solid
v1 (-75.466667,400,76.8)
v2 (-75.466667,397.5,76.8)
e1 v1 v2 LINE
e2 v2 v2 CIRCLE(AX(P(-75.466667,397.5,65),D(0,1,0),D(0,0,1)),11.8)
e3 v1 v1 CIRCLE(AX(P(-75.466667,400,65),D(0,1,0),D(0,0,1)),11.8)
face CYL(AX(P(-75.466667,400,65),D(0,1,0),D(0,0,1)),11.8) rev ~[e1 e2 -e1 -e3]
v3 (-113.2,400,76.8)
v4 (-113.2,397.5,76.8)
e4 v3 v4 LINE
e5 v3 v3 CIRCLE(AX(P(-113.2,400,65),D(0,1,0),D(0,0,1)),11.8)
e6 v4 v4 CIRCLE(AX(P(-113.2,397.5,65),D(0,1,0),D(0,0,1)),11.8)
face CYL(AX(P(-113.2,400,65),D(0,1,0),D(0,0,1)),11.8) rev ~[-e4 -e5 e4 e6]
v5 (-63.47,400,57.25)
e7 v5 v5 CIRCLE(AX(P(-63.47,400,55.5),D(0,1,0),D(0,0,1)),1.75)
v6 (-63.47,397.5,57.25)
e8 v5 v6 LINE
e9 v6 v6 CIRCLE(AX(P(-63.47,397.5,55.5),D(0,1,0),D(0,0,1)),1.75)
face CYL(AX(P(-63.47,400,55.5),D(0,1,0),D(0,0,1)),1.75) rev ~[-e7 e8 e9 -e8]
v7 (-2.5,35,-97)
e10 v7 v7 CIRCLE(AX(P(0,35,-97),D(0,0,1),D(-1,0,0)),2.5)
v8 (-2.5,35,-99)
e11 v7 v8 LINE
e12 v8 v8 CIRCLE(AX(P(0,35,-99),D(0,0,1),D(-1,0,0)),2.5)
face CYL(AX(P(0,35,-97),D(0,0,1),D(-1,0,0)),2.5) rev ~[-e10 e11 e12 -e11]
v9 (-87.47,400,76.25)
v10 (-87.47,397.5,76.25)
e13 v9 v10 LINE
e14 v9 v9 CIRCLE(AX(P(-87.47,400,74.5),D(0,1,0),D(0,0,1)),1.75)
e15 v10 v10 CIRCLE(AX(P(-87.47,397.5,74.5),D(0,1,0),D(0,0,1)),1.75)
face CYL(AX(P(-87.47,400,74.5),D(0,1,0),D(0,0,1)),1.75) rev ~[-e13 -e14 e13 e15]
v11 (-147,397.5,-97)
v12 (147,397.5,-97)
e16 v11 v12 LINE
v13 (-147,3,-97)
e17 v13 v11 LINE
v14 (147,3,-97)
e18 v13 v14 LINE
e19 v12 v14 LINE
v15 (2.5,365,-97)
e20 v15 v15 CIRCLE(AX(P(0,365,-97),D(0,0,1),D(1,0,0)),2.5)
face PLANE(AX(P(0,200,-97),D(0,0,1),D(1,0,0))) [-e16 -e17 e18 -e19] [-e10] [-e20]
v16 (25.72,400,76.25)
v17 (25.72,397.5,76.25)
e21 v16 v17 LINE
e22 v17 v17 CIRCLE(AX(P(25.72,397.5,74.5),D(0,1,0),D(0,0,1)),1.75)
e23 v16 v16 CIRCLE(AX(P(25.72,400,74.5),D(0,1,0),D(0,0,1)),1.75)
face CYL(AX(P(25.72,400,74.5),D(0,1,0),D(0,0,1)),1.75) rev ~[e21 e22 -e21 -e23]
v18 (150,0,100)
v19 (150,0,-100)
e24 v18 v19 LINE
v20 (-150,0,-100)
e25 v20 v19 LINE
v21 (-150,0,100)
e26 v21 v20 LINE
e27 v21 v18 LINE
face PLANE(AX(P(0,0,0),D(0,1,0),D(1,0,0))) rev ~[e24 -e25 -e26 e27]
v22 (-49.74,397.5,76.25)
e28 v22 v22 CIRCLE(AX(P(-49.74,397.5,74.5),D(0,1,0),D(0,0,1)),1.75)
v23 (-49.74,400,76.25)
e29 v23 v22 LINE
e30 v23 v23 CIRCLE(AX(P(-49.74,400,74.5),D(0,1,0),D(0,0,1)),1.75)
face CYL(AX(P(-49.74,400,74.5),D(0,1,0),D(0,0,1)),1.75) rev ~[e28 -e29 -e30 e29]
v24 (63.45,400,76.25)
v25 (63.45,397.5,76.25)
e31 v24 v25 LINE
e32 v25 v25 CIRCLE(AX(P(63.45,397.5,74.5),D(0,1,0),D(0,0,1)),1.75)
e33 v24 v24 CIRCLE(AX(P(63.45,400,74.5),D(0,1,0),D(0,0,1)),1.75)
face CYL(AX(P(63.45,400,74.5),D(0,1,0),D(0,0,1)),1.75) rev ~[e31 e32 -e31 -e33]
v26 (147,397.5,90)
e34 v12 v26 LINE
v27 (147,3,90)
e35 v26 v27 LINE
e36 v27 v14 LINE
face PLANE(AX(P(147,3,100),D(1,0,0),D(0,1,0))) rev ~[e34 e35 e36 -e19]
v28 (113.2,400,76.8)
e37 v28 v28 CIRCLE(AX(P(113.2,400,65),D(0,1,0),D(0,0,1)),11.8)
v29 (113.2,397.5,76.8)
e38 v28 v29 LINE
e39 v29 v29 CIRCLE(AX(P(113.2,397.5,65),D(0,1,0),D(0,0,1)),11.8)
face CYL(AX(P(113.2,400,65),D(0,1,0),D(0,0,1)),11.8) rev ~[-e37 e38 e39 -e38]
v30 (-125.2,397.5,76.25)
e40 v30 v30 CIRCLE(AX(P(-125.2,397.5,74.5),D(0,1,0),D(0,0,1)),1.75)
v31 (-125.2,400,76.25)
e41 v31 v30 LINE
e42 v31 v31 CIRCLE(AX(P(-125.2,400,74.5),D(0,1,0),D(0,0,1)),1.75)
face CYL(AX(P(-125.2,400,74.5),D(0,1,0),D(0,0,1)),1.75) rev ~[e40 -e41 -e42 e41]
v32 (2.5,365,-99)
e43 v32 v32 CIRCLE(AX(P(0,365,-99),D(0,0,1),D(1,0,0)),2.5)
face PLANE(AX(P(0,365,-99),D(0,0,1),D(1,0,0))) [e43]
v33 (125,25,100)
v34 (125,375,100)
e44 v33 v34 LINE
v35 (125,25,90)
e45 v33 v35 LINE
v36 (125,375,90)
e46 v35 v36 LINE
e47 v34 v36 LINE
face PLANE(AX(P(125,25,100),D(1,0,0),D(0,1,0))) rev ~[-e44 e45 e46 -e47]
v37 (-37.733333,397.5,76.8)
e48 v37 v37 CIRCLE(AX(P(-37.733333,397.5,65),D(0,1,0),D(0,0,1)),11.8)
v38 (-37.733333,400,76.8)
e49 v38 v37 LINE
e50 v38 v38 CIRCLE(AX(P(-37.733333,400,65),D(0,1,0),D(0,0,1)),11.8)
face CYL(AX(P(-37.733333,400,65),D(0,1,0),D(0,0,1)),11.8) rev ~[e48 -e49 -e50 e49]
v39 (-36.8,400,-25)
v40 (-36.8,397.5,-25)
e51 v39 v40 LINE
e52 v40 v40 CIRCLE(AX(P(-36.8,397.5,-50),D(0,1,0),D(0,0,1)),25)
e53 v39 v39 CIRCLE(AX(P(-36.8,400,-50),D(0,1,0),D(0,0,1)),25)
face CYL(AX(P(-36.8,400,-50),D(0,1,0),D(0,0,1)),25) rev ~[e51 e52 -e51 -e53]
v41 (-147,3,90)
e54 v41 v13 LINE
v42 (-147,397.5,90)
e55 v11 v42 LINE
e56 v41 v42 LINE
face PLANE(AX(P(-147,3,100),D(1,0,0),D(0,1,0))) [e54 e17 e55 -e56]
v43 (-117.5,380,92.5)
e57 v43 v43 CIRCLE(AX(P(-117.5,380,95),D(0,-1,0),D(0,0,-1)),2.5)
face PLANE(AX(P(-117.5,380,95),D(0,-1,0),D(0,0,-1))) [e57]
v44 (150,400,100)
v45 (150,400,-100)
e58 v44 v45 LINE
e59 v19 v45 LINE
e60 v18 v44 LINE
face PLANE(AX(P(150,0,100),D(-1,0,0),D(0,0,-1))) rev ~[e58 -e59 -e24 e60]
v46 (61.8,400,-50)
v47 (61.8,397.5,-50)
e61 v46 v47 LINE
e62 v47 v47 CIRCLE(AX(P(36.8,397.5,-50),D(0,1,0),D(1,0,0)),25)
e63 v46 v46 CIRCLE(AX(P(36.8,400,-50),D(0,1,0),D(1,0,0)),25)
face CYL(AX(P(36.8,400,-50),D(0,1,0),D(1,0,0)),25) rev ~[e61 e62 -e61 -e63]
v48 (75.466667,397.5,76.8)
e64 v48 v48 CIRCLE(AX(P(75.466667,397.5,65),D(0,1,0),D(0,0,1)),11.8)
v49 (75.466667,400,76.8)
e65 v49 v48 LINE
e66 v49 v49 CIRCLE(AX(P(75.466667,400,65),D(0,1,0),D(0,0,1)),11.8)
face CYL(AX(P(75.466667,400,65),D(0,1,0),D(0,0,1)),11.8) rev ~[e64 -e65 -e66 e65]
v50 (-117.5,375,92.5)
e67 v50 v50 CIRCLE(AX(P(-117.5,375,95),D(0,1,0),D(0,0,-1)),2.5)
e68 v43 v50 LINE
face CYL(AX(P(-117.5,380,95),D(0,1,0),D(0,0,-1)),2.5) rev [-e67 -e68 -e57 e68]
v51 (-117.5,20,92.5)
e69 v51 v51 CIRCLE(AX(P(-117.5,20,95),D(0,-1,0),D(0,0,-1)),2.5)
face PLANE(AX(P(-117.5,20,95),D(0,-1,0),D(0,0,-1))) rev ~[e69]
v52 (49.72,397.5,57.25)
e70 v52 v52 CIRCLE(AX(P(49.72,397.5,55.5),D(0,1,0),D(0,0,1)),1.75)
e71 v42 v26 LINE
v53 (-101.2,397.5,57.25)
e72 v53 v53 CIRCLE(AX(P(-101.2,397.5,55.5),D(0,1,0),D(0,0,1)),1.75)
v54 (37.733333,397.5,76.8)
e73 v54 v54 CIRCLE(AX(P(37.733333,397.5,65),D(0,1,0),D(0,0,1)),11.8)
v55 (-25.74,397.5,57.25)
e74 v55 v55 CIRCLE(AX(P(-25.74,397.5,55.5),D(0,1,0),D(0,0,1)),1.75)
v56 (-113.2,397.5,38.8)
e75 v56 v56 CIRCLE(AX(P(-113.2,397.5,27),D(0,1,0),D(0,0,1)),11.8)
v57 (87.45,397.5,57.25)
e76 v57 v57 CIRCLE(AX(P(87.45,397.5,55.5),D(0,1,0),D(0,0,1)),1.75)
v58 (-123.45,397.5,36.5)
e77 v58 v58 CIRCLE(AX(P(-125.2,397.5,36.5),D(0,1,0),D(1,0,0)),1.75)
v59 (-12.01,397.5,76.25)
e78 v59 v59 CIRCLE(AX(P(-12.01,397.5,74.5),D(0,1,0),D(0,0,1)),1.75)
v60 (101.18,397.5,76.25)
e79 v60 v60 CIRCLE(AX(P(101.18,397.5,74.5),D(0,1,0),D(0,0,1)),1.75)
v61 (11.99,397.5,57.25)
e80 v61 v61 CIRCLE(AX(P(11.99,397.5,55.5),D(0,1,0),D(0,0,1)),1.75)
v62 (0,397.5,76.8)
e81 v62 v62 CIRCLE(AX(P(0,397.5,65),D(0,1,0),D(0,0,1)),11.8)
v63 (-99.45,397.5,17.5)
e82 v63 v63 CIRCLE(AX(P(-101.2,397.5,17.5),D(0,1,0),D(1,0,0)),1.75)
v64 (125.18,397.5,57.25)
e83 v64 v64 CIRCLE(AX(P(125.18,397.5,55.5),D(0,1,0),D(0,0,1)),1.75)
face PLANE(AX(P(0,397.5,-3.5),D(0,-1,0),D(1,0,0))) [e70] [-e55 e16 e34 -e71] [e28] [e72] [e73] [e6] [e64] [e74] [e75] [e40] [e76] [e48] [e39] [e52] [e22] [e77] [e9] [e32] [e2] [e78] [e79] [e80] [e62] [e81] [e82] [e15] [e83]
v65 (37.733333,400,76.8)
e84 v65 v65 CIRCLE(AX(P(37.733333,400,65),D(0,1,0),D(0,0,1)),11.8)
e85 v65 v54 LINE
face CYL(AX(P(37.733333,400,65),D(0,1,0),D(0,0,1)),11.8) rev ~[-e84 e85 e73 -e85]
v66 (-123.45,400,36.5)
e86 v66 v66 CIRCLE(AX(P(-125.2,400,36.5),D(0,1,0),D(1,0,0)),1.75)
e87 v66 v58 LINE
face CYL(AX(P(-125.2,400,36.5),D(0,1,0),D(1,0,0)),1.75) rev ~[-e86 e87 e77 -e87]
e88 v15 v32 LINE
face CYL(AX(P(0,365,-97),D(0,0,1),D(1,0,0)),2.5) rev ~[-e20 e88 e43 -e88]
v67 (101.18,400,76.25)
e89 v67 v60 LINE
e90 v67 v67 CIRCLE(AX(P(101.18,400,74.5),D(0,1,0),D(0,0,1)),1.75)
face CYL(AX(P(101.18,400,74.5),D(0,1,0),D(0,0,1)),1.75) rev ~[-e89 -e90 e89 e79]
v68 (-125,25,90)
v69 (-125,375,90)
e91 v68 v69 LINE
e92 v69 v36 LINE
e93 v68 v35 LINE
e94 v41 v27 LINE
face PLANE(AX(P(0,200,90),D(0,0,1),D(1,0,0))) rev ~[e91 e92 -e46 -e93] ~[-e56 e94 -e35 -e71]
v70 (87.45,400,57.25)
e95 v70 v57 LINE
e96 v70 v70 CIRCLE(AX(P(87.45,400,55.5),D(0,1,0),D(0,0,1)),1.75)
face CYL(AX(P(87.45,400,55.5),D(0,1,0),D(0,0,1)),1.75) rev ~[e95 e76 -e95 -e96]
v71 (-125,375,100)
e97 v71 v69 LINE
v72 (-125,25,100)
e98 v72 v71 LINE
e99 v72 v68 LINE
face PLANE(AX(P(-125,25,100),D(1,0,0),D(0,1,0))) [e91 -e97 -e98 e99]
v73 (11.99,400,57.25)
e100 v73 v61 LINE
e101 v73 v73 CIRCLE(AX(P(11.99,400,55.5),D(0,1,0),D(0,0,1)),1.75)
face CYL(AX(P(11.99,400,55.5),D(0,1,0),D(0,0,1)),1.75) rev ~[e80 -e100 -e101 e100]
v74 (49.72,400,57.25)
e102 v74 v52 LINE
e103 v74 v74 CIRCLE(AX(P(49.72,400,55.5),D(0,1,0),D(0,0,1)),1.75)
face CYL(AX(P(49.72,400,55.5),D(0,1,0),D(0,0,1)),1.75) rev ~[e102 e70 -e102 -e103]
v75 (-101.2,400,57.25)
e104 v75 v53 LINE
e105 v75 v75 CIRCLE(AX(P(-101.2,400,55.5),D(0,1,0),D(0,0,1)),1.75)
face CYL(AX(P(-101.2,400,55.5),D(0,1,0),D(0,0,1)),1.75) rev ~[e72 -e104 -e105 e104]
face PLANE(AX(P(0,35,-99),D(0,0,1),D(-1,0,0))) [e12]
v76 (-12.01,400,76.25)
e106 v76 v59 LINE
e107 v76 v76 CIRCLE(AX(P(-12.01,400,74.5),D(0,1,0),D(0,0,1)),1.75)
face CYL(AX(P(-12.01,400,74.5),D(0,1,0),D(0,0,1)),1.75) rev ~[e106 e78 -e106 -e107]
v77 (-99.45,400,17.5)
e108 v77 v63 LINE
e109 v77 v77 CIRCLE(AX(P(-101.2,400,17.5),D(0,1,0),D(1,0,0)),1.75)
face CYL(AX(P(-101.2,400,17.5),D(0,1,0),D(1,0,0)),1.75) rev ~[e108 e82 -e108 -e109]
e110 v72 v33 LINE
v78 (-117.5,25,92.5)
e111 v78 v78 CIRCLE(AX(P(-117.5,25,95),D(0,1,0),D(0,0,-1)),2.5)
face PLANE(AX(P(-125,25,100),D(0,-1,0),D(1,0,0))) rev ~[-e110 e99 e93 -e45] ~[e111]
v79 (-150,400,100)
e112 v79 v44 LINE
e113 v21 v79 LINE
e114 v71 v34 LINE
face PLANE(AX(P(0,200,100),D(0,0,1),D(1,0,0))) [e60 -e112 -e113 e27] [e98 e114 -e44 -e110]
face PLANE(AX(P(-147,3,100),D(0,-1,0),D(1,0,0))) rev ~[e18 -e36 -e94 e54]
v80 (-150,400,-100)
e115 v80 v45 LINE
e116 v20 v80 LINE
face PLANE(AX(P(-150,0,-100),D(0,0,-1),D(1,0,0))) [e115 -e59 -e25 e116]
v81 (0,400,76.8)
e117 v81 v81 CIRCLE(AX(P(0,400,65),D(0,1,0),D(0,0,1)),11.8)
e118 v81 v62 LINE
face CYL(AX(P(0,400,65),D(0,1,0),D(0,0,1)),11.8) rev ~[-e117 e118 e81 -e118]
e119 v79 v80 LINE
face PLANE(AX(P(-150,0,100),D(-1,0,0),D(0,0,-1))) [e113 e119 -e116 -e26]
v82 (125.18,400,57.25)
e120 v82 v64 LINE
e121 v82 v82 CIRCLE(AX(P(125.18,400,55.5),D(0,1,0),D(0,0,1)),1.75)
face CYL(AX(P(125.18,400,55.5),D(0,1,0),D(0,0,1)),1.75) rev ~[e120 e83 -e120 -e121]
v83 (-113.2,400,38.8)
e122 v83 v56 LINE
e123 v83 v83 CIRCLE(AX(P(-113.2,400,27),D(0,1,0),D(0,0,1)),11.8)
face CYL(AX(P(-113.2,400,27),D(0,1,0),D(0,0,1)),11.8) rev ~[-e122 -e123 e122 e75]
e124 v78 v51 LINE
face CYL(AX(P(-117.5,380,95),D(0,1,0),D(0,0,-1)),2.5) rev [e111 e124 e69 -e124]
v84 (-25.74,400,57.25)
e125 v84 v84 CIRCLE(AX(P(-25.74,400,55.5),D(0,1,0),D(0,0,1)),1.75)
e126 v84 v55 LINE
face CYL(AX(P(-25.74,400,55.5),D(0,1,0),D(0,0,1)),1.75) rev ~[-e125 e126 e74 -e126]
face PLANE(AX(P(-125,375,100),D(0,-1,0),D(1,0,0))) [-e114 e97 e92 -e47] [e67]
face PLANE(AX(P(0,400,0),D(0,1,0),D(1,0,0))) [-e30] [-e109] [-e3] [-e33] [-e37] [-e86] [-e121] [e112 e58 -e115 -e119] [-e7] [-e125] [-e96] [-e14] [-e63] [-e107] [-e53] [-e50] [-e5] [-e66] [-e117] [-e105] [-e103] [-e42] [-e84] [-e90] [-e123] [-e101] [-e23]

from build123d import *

# Parameters (mm, degrees)
SKETCH1_W                = 300
SKETCH1_H                = 200
BOSS_EXTRUDE1_DEPTH      = 400
SKETCH2_W                = 294
SKETCH2_H                = 394
CUT_EXTRUDE1_DEPTH       = 197
SKETCH3_W                = 294
SKETCH3_H                = 394
SKETCH3_W_2              = 250
SKETCH3_H_2              = 350
BOSS_EXTRUDE2_DEPTH      = 10
SKETCH4_R                = 2.5
CUT_EXTRUDE2_DEPTH       = 2
SKETCH5_W                = 294
SKETCH5_H                = 187
CUT_EXTRUDE3_DEPTH       = 0.5
CUT_EXTRUDE4_REACH       = 440.748
SKETCH6_R                = 11.8
CUT_EXTRUDE5_REACH       = 440.748
SKETCH7_R                = 25
CUT_EXTRUDE7_REACH       = 440.748
SKETCH8_R                = 1.75
CUT_EXTRUDE8_REACH       = 440.748
SKETCH9_R                = 1.75
CUT_EXTRUDE9_REACH       = 440.748
SKETCH11_R               = 1.75
CUT_EXTRUDE10_DEPTH      = 355
CUT_EXTRUDE10_DEPTH_BACK = 5
SKETCH12_R               = 2.5


with BuildPart() as part:
    # Sketch1 → Boss-Extrude1 (new body)
    with BuildSketch(Plane(origin=(0, 0, 0), x_dir=(1, 0, 0), z_dir=(0, 1, 0))):
        Rectangle(SKETCH1_W, SKETCH1_H)
    extrude(amount=BOSS_EXTRUDE1_DEPTH)

    # Sketch2 → Cut-Extrude1 (cut)
    with BuildSketch(Plane.XY.offset(100)):
        with Locations((0, 200)):
            Rectangle(SKETCH2_W, SKETCH2_H)
    extrude(amount=-CUT_EXTRUDE1_DEPTH, mode=Mode.SUBTRACT)

    # Sketch3 → Boss-Extrude2 (add)
    with BuildSketch(Plane.XY.offset(100)):
        with Locations((0, 200)):
            Rectangle(SKETCH3_W, SKETCH3_H)
        with Locations((0, 200)):
            Rectangle(SKETCH3_W_2, SKETCH3_H_2, mode=Mode.SUBTRACT)
    extrude(amount=-BOSS_EXTRUDE2_DEPTH)

    # Sketch4 → Cut-Extrude2 (cut)
    with BuildSketch(Plane.XY.offset(-97)):
        with Locations((0, 365)):
            Circle(SKETCH4_R)
        with Locations(Location((0, 35, 0), (0, 0, 180))):
            Circle(SKETCH4_R)
    extrude(amount=-CUT_EXTRUDE2_DEPTH, mode=Mode.SUBTRACT)

    # Sketch5 → Cut-Extrude3 (cut)
    with BuildSketch(Plane.XZ.offset(-397)):
        with Locations((0, -3.5)):
            Rectangle(SKETCH5_W, SKETCH5_H)
    extrude(amount=-CUT_EXTRUDE3_DEPTH, mode=Mode.SUBTRACT)

    # Sketch6 → Cut-Extrude4 (cut, up to next)
    with BuildSketch(Plane(origin=(0, 400, 0), x_dir=(1, 0, 0), z_dir=(0, 1, 0)), mode=Mode.PRIVATE) as cut_extrude4_sk1:
        with Locations(Location((-113.2, -65, 0), (0, 0, 270))):
            Circle(SKETCH6_R)
    cut_extrude4_tool1 = extrude(cut_extrude4_sk1.sketch, amount=-CUT_EXTRUDE4_REACH, mode=Mode.PRIVATE) & part.part
    # Sketch6 → Cut-Extrude4 (cut, up to next)
    with BuildSketch(Plane(origin=(0, 400, 0), x_dir=(1, 0, 0), z_dir=(0, 1, 0)), mode=Mode.PRIVATE) as cut_extrude4_sk2:
        with Locations(Location((-75.466666667, -65, 0), (0, 0, 270))):
            Circle(SKETCH6_R)
    cut_extrude4_tool2 = extrude(cut_extrude4_sk2.sketch, amount=-CUT_EXTRUDE4_REACH, mode=Mode.PRIVATE) & part.part
    # Sketch6 → Cut-Extrude4 (cut, up to next)
    with BuildSketch(Plane(origin=(0, 400, 0), x_dir=(1, 0, 0), z_dir=(0, 1, 0)), mode=Mode.PRIVATE) as cut_extrude4_sk3:
        with Locations(Location((-37.733333333, -65, 0), (0, 0, 270))):
            Circle(SKETCH6_R)
    cut_extrude4_tool3 = extrude(cut_extrude4_sk3.sketch, amount=-CUT_EXTRUDE4_REACH, mode=Mode.PRIVATE) & part.part
    # Sketch6 → Cut-Extrude4 (cut, up to next)
    with BuildSketch(Plane(origin=(0, 400, 0), x_dir=(1, 0, 0), z_dir=(0, 1, 0)), mode=Mode.PRIVATE) as cut_extrude4_sk4:
        with Locations(Location((0, -65, 0), (0, 0, 270))):
            Circle(SKETCH6_R)
    cut_extrude4_tool4 = extrude(cut_extrude4_sk4.sketch, amount=-CUT_EXTRUDE4_REACH, mode=Mode.PRIVATE) & part.part
    # Sketch6 → Cut-Extrude4 (cut, up to next)
    with BuildSketch(Plane(origin=(0, 400, 0), x_dir=(1, 0, 0), z_dir=(0, 1, 0)), mode=Mode.PRIVATE) as cut_extrude4_sk5:
        with Locations(Location((37.733333333, -65, 0), (0, 0, 270))):
            Circle(SKETCH6_R)
    cut_extrude4_tool5 = extrude(cut_extrude4_sk5.sketch, amount=-CUT_EXTRUDE4_REACH, mode=Mode.PRIVATE) & part.part
    # Sketch6 → Cut-Extrude4 (cut, up to next)
    with BuildSketch(Plane(origin=(0, 400, 0), x_dir=(1, 0, 0), z_dir=(0, 1, 0)), mode=Mode.PRIVATE) as cut_extrude4_sk6:
        with Locations(Location((75.466666667, -65, 0), (0, 0, 270))):
            Circle(SKETCH6_R)
    cut_extrude4_tool6 = extrude(cut_extrude4_sk6.sketch, amount=-CUT_EXTRUDE4_REACH, mode=Mode.PRIVATE) & part.part
    # Sketch6 → Cut-Extrude4 (cut, up to next)
    with BuildSketch(Plane(origin=(0, 400, 0), x_dir=(1, 0, 0), z_dir=(0, 1, 0)), mode=Mode.PRIVATE) as cut_extrude4_sk7:
        with Locations(Location((113.2, -65, 0), (0, 0, 270))):
            Circle(SKETCH6_R)
    cut_extrude4_tool7 = extrude(cut_extrude4_sk7.sketch, amount=-CUT_EXTRUDE4_REACH, mode=Mode.PRIVATE) & part.part
    # Sketch6 → Cut-Extrude4 (cut, up to next)
    with BuildSketch(Plane(origin=(0, 400, 0), x_dir=(1, 0, 0), z_dir=(0, 1, 0)), mode=Mode.PRIVATE) as cut_extrude4_sk8:
        with Locations(Location((-113.2, -27, 0), (0, 0, 270))):
            Circle(SKETCH6_R)
    cut_extrude4_tool8 = extrude(cut_extrude4_sk8.sketch, amount=-CUT_EXTRUDE4_REACH, mode=Mode.PRIVATE) & part.part
    add(cut_extrude4_tool1.solids().sort_by_distance((-113.2, 400, 65))[0], mode=Mode.SUBTRACT)
    add(cut_extrude4_tool2.solids().sort_by_distance((-75.466667, 400, 65))[0], mode=Mode.SUBTRACT)
    add(cut_extrude4_tool3.solids().sort_by_distance((-37.733333, 400, 65))[0], mode=Mode.SUBTRACT)
    add(cut_extrude4_tool4.solids().sort_by_distance((0, 400, 65))[0], mode=Mode.SUBTRACT)
    add(cut_extrude4_tool5.solids().sort_by_distance((37.733333, 400, 65))[0], mode=Mode.SUBTRACT)
    add(cut_extrude4_tool6.solids().sort_by_distance((75.466667, 400, 65))[0], mode=Mode.SUBTRACT)
    add(cut_extrude4_tool7.solids().sort_by_distance((113.2, 400, 65))[0], mode=Mode.SUBTRACT)
    add(cut_extrude4_tool8.solids().sort_by_distance((-113.2, 400, 27))[0], mode=Mode.SUBTRACT)

    # Sketch7 → Cut-Extrude5 (cut, up to next)
    with BuildSketch(Plane(origin=(0, 400, 0), x_dir=(1, 0, 0), z_dir=(0, 1, 0)), mode=Mode.PRIVATE) as cut_extrude5_sk1:
        with Locations(Location((-36.8, 50, 0), (0, 0, 270))):
            Circle(SKETCH7_R)
    cut_extrude5_tool1 = extrude(cut_extrude5_sk1.sketch, amount=-CUT_EXTRUDE5_REACH, mode=Mode.PRIVATE) & part.part
    # Sketch7 → Cut-Extrude5 (cut, up to next)
    with BuildSketch(Plane(origin=(0, 400, 0), x_dir=(1, 0, 0), z_dir=(0, 1, 0)), mode=Mode.PRIVATE) as cut_extrude5_sk2:
        with Locations((36.8, 50)):
            Circle(SKETCH7_R)
    cut_extrude5_tool2 = extrude(cut_extrude5_sk2.sketch, amount=-CUT_EXTRUDE5_REACH, mode=Mode.PRIVATE) & part.part
    add(cut_extrude5_tool1.solids().sort_by_distance((-36.8, 400, -50))[0], mode=Mode.SUBTRACT)
    add(cut_extrude5_tool2.solids().sort_by_distance((36.8, 400, -50))[0], mode=Mode.SUBTRACT)

    # Sketch8 → Cut-Extrude7 (cut, up to next)
    with BuildSketch(Plane(origin=(0, 400, 0), x_dir=(1, 0, 0), z_dir=(0, 1, 0)), mode=Mode.PRIVATE) as cut_extrude7_sk1:
        with Locations(Location((-125.2, -74.5, 0), (0, 0, 270))):
            Circle(SKETCH8_R)
    cut_extrude7_tool1 = extrude(cut_extrude7_sk1.sketch, amount=-CUT_EXTRUDE7_REACH, mode=Mode.PRIVATE) & part.part
    # Sketch8 → Cut-Extrude7 (cut, up to next)
    with BuildSketch(Plane(origin=(0, 400, 0), x_dir=(1, 0, 0), z_dir=(0, 1, 0)), mode=Mode.PRIVATE) as cut_extrude7_sk2:
        with Locations(Location((-87.47, -74.5, 0), (0, 0, 270))):
            Circle(SKETCH8_R)
    cut_extrude7_tool2 = extrude(cut_extrude7_sk2.sketch, amount=-CUT_EXTRUDE7_REACH, mode=Mode.PRIVATE) & part.part
    # Sketch8 → Cut-Extrude7 (cut, up to next)
    with BuildSketch(Plane(origin=(0, 400, 0), x_dir=(1, 0, 0), z_dir=(0, 1, 0)), mode=Mode.PRIVATE) as cut_extrude7_sk3:
        with Locations(Location((-49.74, -74.5, 0), (0, 0, 270))):
            Circle(SKETCH8_R)
    cut_extrude7_tool3 = extrude(cut_extrude7_sk3.sketch, amount=-CUT_EXTRUDE7_REACH, mode=Mode.PRIVATE) & part.part
    # Sketch8 → Cut-Extrude7 (cut, up to next)
    with BuildSketch(Plane(origin=(0, 400, 0), x_dir=(1, 0, 0), z_dir=(0, 1, 0)), mode=Mode.PRIVATE) as cut_extrude7_sk4:
        with Locations(Location((-12.01, -74.5, 0), (0, 0, 270))):
            Circle(SKETCH8_R)
    cut_extrude7_tool4 = extrude(cut_extrude7_sk4.sketch, amount=-CUT_EXTRUDE7_REACH, mode=Mode.PRIVATE) & part.part
    # Sketch8 → Cut-Extrude7 (cut, up to next)
    with BuildSketch(Plane(origin=(0, 400, 0), x_dir=(1, 0, 0), z_dir=(0, 1, 0)), mode=Mode.PRIVATE) as cut_extrude7_sk5:
        with Locations(Location((25.72, -74.5, 0), (0, 0, 270))):
            Circle(SKETCH8_R)
    cut_extrude7_tool5 = extrude(cut_extrude7_sk5.sketch, amount=-CUT_EXTRUDE7_REACH, mode=Mode.PRIVATE) & part.part
    # Sketch8 → Cut-Extrude7 (cut, up to next)
    with BuildSketch(Plane(origin=(0, 400, 0), x_dir=(1, 0, 0), z_dir=(0, 1, 0)), mode=Mode.PRIVATE) as cut_extrude7_sk6:
        with Locations(Location((63.45, -74.5, 0), (0, 0, 270))):
            Circle(SKETCH8_R)
    cut_extrude7_tool6 = extrude(cut_extrude7_sk6.sketch, amount=-CUT_EXTRUDE7_REACH, mode=Mode.PRIVATE) & part.part
    # Sketch8 → Cut-Extrude7 (cut, up to next)
    with BuildSketch(Plane(origin=(0, 400, 0), x_dir=(1, 0, 0), z_dir=(0, 1, 0)), mode=Mode.PRIVATE) as cut_extrude7_sk7:
        with Locations(Location((101.18, -74.5, 0), (0, 0, 270))):
            Circle(SKETCH8_R)
    cut_extrude7_tool7 = extrude(cut_extrude7_sk7.sketch, amount=-CUT_EXTRUDE7_REACH, mode=Mode.PRIVATE) & part.part
    add(cut_extrude7_tool1.solids().sort_by_distance((-125.2, 400, 74.5))[0], mode=Mode.SUBTRACT)
    add(cut_extrude7_tool2.solids().sort_by_distance((-87.47, 400, 74.5))[0], mode=Mode.SUBTRACT)
    add(cut_extrude7_tool3.solids().sort_by_distance((-49.74, 400, 74.5))[0], mode=Mode.SUBTRACT)
    add(cut_extrude7_tool4.solids().sort_by_distance((-12.01, 400, 74.5))[0], mode=Mode.SUBTRACT)
    add(cut_extrude7_tool5.solids().sort_by_distance((25.72, 400, 74.5))[0], mode=Mode.SUBTRACT)
    add(cut_extrude7_tool6.solids().sort_by_distance((63.45, 400, 74.5))[0], mode=Mode.SUBTRACT)
    add(cut_extrude7_tool7.solids().sort_by_distance((101.18, 400, 74.5))[0], mode=Mode.SUBTRACT)

    # Sketch9 → Cut-Extrude8 (cut, up to next)
    with BuildSketch(Plane(origin=(0, 400, 0), x_dir=(1, 0, 0), z_dir=(0, 1, 0)), mode=Mode.PRIVATE) as cut_extrude8_sk1:
        with Locations(Location((-101.2, -55.5, 0), (0, 0, 270))):
            Circle(SKETCH9_R)
    cut_extrude8_tool1 = extrude(cut_extrude8_sk1.sketch, amount=-CUT_EXTRUDE8_REACH, mode=Mode.PRIVATE) & part.part
    # Sketch9 → Cut-Extrude8 (cut, up to next)
    with BuildSketch(Plane(origin=(0, 400, 0), x_dir=(1, 0, 0), z_dir=(0, 1, 0)), mode=Mode.PRIVATE) as cut_extrude8_sk2:
        with Locations(Location((-63.47, -55.5, 0), (0, 0, 270))):
            Circle(SKETCH9_R)
    cut_extrude8_tool2 = extrude(cut_extrude8_sk2.sketch, amount=-CUT_EXTRUDE8_REACH, mode=Mode.PRIVATE) & part.part
    # Sketch9 → Cut-Extrude8 (cut, up to next)
    with BuildSketch(Plane(origin=(0, 400, 0), x_dir=(1, 0, 0), z_dir=(0, 1, 0)), mode=Mode.PRIVATE) as cut_extrude8_sk3:
        with Locations(Location((-25.74, -55.5, 0), (0, 0, 270))):
            Circle(SKETCH9_R)
    cut_extrude8_tool3 = extrude(cut_extrude8_sk3.sketch, amount=-CUT_EXTRUDE8_REACH, mode=Mode.PRIVATE) & part.part
    # Sketch9 → Cut-Extrude8 (cut, up to next)
    with BuildSketch(Plane(origin=(0, 400, 0), x_dir=(1, 0, 0), z_dir=(0, 1, 0)), mode=Mode.PRIVATE) as cut_extrude8_sk4:
        with Locations(Location((11.99, -55.5, 0), (0, 0, 270))):
            Circle(SKETCH9_R)
    cut_extrude8_tool4 = extrude(cut_extrude8_sk4.sketch, amount=-CUT_EXTRUDE8_REACH, mode=Mode.PRIVATE) & part.part
    # Sketch9 → Cut-Extrude8 (cut, up to next)
    with BuildSketch(Plane(origin=(0, 400, 0), x_dir=(1, 0, 0), z_dir=(0, 1, 0)), mode=Mode.PRIVATE) as cut_extrude8_sk5:
        with Locations(Location((49.72, -55.5, 0), (0, 0, 270))):
            Circle(SKETCH9_R)
    cut_extrude8_tool5 = extrude(cut_extrude8_sk5.sketch, amount=-CUT_EXTRUDE8_REACH, mode=Mode.PRIVATE) & part.part
    # Sketch9 → Cut-Extrude8 (cut, up to next)
    with BuildSketch(Plane(origin=(0, 400, 0), x_dir=(1, 0, 0), z_dir=(0, 1, 0)), mode=Mode.PRIVATE) as cut_extrude8_sk6:
        with Locations(Location((87.45, -55.5, 0), (0, 0, 270))):
            Circle(SKETCH9_R)
    cut_extrude8_tool6 = extrude(cut_extrude8_sk6.sketch, amount=-CUT_EXTRUDE8_REACH, mode=Mode.PRIVATE) & part.part
    # Sketch9 → Cut-Extrude8 (cut, up to next)
    with BuildSketch(Plane(origin=(0, 400, 0), x_dir=(1, 0, 0), z_dir=(0, 1, 0)), mode=Mode.PRIVATE) as cut_extrude8_sk7:
        with Locations(Location((125.18, -55.5, 0), (0, 0, 270))):
            Circle(SKETCH9_R)
    cut_extrude8_tool7 = extrude(cut_extrude8_sk7.sketch, amount=-CUT_EXTRUDE8_REACH, mode=Mode.PRIVATE) & part.part
    add(cut_extrude8_tool1.solids().sort_by_distance((-101.2, 400, 55.5))[0], mode=Mode.SUBTRACT)
    add(cut_extrude8_tool2.solids().sort_by_distance((-63.47, 400, 55.5))[0], mode=Mode.SUBTRACT)
    add(cut_extrude8_tool3.solids().sort_by_distance((-25.74, 400, 55.5))[0], mode=Mode.SUBTRACT)
    add(cut_extrude8_tool4.solids().sort_by_distance((11.99, 400, 55.5))[0], mode=Mode.SUBTRACT)
    add(cut_extrude8_tool5.solids().sort_by_distance((49.72, 400, 55.5))[0], mode=Mode.SUBTRACT)
    add(cut_extrude8_tool6.solids().sort_by_distance((87.45, 400, 55.5))[0], mode=Mode.SUBTRACT)
    add(cut_extrude8_tool7.solids().sort_by_distance((125.18, 400, 55.5))[0], mode=Mode.SUBTRACT)

    # Sketch11 → Cut-Extrude9 (cut, up to next)
    with BuildSketch(Plane(origin=(0, 400, 0), x_dir=(1, 0, 0), z_dir=(0, 1, 0)), mode=Mode.PRIVATE) as cut_extrude9_sk1:
        with Locations((-125.2, -36.5)):
            Circle(SKETCH11_R)
    cut_extrude9_tool1 = extrude(cut_extrude9_sk1.sketch, amount=-CUT_EXTRUDE9_REACH, mode=Mode.PRIVATE) & part.part
    # Sketch11 → Cut-Extrude9 (cut, up to next)
    with BuildSketch(Plane(origin=(0, 400, 0), x_dir=(1, 0, 0), z_dir=(0, 1, 0)), mode=Mode.PRIVATE) as cut_extrude9_sk2:
        with Locations((-101.2, -17.5)):
            Circle(SKETCH11_R)
    cut_extrude9_tool2 = extrude(cut_extrude9_sk2.sketch, amount=-CUT_EXTRUDE9_REACH, mode=Mode.PRIVATE) & part.part
    add(cut_extrude9_tool1.solids().sort_by_distance((-125.2, 400, 36.5))[0], mode=Mode.SUBTRACT)
    add(cut_extrude9_tool2.solids().sort_by_distance((-101.2, 400, 17.5))[0], mode=Mode.SUBTRACT)

    # Sketch12 → Cut-Extrude10 (cut, two sides: drawn at the far end of the back side and taken through both)
    with BuildSketch(Plane.XZ.offset(-375).offset(-CUT_EXTRUDE10_DEPTH_BACK)):
        with Locations(Location((-117.5, 95, 0), (0, 0, 270))):
            Circle(SKETCH12_R)
    extrude(amount=CUT_EXTRUDE10_DEPTH + CUT_EXTRUDE10_DEPTH_BACK, mode=Mode.SUBTRACT)


solid = part.part
